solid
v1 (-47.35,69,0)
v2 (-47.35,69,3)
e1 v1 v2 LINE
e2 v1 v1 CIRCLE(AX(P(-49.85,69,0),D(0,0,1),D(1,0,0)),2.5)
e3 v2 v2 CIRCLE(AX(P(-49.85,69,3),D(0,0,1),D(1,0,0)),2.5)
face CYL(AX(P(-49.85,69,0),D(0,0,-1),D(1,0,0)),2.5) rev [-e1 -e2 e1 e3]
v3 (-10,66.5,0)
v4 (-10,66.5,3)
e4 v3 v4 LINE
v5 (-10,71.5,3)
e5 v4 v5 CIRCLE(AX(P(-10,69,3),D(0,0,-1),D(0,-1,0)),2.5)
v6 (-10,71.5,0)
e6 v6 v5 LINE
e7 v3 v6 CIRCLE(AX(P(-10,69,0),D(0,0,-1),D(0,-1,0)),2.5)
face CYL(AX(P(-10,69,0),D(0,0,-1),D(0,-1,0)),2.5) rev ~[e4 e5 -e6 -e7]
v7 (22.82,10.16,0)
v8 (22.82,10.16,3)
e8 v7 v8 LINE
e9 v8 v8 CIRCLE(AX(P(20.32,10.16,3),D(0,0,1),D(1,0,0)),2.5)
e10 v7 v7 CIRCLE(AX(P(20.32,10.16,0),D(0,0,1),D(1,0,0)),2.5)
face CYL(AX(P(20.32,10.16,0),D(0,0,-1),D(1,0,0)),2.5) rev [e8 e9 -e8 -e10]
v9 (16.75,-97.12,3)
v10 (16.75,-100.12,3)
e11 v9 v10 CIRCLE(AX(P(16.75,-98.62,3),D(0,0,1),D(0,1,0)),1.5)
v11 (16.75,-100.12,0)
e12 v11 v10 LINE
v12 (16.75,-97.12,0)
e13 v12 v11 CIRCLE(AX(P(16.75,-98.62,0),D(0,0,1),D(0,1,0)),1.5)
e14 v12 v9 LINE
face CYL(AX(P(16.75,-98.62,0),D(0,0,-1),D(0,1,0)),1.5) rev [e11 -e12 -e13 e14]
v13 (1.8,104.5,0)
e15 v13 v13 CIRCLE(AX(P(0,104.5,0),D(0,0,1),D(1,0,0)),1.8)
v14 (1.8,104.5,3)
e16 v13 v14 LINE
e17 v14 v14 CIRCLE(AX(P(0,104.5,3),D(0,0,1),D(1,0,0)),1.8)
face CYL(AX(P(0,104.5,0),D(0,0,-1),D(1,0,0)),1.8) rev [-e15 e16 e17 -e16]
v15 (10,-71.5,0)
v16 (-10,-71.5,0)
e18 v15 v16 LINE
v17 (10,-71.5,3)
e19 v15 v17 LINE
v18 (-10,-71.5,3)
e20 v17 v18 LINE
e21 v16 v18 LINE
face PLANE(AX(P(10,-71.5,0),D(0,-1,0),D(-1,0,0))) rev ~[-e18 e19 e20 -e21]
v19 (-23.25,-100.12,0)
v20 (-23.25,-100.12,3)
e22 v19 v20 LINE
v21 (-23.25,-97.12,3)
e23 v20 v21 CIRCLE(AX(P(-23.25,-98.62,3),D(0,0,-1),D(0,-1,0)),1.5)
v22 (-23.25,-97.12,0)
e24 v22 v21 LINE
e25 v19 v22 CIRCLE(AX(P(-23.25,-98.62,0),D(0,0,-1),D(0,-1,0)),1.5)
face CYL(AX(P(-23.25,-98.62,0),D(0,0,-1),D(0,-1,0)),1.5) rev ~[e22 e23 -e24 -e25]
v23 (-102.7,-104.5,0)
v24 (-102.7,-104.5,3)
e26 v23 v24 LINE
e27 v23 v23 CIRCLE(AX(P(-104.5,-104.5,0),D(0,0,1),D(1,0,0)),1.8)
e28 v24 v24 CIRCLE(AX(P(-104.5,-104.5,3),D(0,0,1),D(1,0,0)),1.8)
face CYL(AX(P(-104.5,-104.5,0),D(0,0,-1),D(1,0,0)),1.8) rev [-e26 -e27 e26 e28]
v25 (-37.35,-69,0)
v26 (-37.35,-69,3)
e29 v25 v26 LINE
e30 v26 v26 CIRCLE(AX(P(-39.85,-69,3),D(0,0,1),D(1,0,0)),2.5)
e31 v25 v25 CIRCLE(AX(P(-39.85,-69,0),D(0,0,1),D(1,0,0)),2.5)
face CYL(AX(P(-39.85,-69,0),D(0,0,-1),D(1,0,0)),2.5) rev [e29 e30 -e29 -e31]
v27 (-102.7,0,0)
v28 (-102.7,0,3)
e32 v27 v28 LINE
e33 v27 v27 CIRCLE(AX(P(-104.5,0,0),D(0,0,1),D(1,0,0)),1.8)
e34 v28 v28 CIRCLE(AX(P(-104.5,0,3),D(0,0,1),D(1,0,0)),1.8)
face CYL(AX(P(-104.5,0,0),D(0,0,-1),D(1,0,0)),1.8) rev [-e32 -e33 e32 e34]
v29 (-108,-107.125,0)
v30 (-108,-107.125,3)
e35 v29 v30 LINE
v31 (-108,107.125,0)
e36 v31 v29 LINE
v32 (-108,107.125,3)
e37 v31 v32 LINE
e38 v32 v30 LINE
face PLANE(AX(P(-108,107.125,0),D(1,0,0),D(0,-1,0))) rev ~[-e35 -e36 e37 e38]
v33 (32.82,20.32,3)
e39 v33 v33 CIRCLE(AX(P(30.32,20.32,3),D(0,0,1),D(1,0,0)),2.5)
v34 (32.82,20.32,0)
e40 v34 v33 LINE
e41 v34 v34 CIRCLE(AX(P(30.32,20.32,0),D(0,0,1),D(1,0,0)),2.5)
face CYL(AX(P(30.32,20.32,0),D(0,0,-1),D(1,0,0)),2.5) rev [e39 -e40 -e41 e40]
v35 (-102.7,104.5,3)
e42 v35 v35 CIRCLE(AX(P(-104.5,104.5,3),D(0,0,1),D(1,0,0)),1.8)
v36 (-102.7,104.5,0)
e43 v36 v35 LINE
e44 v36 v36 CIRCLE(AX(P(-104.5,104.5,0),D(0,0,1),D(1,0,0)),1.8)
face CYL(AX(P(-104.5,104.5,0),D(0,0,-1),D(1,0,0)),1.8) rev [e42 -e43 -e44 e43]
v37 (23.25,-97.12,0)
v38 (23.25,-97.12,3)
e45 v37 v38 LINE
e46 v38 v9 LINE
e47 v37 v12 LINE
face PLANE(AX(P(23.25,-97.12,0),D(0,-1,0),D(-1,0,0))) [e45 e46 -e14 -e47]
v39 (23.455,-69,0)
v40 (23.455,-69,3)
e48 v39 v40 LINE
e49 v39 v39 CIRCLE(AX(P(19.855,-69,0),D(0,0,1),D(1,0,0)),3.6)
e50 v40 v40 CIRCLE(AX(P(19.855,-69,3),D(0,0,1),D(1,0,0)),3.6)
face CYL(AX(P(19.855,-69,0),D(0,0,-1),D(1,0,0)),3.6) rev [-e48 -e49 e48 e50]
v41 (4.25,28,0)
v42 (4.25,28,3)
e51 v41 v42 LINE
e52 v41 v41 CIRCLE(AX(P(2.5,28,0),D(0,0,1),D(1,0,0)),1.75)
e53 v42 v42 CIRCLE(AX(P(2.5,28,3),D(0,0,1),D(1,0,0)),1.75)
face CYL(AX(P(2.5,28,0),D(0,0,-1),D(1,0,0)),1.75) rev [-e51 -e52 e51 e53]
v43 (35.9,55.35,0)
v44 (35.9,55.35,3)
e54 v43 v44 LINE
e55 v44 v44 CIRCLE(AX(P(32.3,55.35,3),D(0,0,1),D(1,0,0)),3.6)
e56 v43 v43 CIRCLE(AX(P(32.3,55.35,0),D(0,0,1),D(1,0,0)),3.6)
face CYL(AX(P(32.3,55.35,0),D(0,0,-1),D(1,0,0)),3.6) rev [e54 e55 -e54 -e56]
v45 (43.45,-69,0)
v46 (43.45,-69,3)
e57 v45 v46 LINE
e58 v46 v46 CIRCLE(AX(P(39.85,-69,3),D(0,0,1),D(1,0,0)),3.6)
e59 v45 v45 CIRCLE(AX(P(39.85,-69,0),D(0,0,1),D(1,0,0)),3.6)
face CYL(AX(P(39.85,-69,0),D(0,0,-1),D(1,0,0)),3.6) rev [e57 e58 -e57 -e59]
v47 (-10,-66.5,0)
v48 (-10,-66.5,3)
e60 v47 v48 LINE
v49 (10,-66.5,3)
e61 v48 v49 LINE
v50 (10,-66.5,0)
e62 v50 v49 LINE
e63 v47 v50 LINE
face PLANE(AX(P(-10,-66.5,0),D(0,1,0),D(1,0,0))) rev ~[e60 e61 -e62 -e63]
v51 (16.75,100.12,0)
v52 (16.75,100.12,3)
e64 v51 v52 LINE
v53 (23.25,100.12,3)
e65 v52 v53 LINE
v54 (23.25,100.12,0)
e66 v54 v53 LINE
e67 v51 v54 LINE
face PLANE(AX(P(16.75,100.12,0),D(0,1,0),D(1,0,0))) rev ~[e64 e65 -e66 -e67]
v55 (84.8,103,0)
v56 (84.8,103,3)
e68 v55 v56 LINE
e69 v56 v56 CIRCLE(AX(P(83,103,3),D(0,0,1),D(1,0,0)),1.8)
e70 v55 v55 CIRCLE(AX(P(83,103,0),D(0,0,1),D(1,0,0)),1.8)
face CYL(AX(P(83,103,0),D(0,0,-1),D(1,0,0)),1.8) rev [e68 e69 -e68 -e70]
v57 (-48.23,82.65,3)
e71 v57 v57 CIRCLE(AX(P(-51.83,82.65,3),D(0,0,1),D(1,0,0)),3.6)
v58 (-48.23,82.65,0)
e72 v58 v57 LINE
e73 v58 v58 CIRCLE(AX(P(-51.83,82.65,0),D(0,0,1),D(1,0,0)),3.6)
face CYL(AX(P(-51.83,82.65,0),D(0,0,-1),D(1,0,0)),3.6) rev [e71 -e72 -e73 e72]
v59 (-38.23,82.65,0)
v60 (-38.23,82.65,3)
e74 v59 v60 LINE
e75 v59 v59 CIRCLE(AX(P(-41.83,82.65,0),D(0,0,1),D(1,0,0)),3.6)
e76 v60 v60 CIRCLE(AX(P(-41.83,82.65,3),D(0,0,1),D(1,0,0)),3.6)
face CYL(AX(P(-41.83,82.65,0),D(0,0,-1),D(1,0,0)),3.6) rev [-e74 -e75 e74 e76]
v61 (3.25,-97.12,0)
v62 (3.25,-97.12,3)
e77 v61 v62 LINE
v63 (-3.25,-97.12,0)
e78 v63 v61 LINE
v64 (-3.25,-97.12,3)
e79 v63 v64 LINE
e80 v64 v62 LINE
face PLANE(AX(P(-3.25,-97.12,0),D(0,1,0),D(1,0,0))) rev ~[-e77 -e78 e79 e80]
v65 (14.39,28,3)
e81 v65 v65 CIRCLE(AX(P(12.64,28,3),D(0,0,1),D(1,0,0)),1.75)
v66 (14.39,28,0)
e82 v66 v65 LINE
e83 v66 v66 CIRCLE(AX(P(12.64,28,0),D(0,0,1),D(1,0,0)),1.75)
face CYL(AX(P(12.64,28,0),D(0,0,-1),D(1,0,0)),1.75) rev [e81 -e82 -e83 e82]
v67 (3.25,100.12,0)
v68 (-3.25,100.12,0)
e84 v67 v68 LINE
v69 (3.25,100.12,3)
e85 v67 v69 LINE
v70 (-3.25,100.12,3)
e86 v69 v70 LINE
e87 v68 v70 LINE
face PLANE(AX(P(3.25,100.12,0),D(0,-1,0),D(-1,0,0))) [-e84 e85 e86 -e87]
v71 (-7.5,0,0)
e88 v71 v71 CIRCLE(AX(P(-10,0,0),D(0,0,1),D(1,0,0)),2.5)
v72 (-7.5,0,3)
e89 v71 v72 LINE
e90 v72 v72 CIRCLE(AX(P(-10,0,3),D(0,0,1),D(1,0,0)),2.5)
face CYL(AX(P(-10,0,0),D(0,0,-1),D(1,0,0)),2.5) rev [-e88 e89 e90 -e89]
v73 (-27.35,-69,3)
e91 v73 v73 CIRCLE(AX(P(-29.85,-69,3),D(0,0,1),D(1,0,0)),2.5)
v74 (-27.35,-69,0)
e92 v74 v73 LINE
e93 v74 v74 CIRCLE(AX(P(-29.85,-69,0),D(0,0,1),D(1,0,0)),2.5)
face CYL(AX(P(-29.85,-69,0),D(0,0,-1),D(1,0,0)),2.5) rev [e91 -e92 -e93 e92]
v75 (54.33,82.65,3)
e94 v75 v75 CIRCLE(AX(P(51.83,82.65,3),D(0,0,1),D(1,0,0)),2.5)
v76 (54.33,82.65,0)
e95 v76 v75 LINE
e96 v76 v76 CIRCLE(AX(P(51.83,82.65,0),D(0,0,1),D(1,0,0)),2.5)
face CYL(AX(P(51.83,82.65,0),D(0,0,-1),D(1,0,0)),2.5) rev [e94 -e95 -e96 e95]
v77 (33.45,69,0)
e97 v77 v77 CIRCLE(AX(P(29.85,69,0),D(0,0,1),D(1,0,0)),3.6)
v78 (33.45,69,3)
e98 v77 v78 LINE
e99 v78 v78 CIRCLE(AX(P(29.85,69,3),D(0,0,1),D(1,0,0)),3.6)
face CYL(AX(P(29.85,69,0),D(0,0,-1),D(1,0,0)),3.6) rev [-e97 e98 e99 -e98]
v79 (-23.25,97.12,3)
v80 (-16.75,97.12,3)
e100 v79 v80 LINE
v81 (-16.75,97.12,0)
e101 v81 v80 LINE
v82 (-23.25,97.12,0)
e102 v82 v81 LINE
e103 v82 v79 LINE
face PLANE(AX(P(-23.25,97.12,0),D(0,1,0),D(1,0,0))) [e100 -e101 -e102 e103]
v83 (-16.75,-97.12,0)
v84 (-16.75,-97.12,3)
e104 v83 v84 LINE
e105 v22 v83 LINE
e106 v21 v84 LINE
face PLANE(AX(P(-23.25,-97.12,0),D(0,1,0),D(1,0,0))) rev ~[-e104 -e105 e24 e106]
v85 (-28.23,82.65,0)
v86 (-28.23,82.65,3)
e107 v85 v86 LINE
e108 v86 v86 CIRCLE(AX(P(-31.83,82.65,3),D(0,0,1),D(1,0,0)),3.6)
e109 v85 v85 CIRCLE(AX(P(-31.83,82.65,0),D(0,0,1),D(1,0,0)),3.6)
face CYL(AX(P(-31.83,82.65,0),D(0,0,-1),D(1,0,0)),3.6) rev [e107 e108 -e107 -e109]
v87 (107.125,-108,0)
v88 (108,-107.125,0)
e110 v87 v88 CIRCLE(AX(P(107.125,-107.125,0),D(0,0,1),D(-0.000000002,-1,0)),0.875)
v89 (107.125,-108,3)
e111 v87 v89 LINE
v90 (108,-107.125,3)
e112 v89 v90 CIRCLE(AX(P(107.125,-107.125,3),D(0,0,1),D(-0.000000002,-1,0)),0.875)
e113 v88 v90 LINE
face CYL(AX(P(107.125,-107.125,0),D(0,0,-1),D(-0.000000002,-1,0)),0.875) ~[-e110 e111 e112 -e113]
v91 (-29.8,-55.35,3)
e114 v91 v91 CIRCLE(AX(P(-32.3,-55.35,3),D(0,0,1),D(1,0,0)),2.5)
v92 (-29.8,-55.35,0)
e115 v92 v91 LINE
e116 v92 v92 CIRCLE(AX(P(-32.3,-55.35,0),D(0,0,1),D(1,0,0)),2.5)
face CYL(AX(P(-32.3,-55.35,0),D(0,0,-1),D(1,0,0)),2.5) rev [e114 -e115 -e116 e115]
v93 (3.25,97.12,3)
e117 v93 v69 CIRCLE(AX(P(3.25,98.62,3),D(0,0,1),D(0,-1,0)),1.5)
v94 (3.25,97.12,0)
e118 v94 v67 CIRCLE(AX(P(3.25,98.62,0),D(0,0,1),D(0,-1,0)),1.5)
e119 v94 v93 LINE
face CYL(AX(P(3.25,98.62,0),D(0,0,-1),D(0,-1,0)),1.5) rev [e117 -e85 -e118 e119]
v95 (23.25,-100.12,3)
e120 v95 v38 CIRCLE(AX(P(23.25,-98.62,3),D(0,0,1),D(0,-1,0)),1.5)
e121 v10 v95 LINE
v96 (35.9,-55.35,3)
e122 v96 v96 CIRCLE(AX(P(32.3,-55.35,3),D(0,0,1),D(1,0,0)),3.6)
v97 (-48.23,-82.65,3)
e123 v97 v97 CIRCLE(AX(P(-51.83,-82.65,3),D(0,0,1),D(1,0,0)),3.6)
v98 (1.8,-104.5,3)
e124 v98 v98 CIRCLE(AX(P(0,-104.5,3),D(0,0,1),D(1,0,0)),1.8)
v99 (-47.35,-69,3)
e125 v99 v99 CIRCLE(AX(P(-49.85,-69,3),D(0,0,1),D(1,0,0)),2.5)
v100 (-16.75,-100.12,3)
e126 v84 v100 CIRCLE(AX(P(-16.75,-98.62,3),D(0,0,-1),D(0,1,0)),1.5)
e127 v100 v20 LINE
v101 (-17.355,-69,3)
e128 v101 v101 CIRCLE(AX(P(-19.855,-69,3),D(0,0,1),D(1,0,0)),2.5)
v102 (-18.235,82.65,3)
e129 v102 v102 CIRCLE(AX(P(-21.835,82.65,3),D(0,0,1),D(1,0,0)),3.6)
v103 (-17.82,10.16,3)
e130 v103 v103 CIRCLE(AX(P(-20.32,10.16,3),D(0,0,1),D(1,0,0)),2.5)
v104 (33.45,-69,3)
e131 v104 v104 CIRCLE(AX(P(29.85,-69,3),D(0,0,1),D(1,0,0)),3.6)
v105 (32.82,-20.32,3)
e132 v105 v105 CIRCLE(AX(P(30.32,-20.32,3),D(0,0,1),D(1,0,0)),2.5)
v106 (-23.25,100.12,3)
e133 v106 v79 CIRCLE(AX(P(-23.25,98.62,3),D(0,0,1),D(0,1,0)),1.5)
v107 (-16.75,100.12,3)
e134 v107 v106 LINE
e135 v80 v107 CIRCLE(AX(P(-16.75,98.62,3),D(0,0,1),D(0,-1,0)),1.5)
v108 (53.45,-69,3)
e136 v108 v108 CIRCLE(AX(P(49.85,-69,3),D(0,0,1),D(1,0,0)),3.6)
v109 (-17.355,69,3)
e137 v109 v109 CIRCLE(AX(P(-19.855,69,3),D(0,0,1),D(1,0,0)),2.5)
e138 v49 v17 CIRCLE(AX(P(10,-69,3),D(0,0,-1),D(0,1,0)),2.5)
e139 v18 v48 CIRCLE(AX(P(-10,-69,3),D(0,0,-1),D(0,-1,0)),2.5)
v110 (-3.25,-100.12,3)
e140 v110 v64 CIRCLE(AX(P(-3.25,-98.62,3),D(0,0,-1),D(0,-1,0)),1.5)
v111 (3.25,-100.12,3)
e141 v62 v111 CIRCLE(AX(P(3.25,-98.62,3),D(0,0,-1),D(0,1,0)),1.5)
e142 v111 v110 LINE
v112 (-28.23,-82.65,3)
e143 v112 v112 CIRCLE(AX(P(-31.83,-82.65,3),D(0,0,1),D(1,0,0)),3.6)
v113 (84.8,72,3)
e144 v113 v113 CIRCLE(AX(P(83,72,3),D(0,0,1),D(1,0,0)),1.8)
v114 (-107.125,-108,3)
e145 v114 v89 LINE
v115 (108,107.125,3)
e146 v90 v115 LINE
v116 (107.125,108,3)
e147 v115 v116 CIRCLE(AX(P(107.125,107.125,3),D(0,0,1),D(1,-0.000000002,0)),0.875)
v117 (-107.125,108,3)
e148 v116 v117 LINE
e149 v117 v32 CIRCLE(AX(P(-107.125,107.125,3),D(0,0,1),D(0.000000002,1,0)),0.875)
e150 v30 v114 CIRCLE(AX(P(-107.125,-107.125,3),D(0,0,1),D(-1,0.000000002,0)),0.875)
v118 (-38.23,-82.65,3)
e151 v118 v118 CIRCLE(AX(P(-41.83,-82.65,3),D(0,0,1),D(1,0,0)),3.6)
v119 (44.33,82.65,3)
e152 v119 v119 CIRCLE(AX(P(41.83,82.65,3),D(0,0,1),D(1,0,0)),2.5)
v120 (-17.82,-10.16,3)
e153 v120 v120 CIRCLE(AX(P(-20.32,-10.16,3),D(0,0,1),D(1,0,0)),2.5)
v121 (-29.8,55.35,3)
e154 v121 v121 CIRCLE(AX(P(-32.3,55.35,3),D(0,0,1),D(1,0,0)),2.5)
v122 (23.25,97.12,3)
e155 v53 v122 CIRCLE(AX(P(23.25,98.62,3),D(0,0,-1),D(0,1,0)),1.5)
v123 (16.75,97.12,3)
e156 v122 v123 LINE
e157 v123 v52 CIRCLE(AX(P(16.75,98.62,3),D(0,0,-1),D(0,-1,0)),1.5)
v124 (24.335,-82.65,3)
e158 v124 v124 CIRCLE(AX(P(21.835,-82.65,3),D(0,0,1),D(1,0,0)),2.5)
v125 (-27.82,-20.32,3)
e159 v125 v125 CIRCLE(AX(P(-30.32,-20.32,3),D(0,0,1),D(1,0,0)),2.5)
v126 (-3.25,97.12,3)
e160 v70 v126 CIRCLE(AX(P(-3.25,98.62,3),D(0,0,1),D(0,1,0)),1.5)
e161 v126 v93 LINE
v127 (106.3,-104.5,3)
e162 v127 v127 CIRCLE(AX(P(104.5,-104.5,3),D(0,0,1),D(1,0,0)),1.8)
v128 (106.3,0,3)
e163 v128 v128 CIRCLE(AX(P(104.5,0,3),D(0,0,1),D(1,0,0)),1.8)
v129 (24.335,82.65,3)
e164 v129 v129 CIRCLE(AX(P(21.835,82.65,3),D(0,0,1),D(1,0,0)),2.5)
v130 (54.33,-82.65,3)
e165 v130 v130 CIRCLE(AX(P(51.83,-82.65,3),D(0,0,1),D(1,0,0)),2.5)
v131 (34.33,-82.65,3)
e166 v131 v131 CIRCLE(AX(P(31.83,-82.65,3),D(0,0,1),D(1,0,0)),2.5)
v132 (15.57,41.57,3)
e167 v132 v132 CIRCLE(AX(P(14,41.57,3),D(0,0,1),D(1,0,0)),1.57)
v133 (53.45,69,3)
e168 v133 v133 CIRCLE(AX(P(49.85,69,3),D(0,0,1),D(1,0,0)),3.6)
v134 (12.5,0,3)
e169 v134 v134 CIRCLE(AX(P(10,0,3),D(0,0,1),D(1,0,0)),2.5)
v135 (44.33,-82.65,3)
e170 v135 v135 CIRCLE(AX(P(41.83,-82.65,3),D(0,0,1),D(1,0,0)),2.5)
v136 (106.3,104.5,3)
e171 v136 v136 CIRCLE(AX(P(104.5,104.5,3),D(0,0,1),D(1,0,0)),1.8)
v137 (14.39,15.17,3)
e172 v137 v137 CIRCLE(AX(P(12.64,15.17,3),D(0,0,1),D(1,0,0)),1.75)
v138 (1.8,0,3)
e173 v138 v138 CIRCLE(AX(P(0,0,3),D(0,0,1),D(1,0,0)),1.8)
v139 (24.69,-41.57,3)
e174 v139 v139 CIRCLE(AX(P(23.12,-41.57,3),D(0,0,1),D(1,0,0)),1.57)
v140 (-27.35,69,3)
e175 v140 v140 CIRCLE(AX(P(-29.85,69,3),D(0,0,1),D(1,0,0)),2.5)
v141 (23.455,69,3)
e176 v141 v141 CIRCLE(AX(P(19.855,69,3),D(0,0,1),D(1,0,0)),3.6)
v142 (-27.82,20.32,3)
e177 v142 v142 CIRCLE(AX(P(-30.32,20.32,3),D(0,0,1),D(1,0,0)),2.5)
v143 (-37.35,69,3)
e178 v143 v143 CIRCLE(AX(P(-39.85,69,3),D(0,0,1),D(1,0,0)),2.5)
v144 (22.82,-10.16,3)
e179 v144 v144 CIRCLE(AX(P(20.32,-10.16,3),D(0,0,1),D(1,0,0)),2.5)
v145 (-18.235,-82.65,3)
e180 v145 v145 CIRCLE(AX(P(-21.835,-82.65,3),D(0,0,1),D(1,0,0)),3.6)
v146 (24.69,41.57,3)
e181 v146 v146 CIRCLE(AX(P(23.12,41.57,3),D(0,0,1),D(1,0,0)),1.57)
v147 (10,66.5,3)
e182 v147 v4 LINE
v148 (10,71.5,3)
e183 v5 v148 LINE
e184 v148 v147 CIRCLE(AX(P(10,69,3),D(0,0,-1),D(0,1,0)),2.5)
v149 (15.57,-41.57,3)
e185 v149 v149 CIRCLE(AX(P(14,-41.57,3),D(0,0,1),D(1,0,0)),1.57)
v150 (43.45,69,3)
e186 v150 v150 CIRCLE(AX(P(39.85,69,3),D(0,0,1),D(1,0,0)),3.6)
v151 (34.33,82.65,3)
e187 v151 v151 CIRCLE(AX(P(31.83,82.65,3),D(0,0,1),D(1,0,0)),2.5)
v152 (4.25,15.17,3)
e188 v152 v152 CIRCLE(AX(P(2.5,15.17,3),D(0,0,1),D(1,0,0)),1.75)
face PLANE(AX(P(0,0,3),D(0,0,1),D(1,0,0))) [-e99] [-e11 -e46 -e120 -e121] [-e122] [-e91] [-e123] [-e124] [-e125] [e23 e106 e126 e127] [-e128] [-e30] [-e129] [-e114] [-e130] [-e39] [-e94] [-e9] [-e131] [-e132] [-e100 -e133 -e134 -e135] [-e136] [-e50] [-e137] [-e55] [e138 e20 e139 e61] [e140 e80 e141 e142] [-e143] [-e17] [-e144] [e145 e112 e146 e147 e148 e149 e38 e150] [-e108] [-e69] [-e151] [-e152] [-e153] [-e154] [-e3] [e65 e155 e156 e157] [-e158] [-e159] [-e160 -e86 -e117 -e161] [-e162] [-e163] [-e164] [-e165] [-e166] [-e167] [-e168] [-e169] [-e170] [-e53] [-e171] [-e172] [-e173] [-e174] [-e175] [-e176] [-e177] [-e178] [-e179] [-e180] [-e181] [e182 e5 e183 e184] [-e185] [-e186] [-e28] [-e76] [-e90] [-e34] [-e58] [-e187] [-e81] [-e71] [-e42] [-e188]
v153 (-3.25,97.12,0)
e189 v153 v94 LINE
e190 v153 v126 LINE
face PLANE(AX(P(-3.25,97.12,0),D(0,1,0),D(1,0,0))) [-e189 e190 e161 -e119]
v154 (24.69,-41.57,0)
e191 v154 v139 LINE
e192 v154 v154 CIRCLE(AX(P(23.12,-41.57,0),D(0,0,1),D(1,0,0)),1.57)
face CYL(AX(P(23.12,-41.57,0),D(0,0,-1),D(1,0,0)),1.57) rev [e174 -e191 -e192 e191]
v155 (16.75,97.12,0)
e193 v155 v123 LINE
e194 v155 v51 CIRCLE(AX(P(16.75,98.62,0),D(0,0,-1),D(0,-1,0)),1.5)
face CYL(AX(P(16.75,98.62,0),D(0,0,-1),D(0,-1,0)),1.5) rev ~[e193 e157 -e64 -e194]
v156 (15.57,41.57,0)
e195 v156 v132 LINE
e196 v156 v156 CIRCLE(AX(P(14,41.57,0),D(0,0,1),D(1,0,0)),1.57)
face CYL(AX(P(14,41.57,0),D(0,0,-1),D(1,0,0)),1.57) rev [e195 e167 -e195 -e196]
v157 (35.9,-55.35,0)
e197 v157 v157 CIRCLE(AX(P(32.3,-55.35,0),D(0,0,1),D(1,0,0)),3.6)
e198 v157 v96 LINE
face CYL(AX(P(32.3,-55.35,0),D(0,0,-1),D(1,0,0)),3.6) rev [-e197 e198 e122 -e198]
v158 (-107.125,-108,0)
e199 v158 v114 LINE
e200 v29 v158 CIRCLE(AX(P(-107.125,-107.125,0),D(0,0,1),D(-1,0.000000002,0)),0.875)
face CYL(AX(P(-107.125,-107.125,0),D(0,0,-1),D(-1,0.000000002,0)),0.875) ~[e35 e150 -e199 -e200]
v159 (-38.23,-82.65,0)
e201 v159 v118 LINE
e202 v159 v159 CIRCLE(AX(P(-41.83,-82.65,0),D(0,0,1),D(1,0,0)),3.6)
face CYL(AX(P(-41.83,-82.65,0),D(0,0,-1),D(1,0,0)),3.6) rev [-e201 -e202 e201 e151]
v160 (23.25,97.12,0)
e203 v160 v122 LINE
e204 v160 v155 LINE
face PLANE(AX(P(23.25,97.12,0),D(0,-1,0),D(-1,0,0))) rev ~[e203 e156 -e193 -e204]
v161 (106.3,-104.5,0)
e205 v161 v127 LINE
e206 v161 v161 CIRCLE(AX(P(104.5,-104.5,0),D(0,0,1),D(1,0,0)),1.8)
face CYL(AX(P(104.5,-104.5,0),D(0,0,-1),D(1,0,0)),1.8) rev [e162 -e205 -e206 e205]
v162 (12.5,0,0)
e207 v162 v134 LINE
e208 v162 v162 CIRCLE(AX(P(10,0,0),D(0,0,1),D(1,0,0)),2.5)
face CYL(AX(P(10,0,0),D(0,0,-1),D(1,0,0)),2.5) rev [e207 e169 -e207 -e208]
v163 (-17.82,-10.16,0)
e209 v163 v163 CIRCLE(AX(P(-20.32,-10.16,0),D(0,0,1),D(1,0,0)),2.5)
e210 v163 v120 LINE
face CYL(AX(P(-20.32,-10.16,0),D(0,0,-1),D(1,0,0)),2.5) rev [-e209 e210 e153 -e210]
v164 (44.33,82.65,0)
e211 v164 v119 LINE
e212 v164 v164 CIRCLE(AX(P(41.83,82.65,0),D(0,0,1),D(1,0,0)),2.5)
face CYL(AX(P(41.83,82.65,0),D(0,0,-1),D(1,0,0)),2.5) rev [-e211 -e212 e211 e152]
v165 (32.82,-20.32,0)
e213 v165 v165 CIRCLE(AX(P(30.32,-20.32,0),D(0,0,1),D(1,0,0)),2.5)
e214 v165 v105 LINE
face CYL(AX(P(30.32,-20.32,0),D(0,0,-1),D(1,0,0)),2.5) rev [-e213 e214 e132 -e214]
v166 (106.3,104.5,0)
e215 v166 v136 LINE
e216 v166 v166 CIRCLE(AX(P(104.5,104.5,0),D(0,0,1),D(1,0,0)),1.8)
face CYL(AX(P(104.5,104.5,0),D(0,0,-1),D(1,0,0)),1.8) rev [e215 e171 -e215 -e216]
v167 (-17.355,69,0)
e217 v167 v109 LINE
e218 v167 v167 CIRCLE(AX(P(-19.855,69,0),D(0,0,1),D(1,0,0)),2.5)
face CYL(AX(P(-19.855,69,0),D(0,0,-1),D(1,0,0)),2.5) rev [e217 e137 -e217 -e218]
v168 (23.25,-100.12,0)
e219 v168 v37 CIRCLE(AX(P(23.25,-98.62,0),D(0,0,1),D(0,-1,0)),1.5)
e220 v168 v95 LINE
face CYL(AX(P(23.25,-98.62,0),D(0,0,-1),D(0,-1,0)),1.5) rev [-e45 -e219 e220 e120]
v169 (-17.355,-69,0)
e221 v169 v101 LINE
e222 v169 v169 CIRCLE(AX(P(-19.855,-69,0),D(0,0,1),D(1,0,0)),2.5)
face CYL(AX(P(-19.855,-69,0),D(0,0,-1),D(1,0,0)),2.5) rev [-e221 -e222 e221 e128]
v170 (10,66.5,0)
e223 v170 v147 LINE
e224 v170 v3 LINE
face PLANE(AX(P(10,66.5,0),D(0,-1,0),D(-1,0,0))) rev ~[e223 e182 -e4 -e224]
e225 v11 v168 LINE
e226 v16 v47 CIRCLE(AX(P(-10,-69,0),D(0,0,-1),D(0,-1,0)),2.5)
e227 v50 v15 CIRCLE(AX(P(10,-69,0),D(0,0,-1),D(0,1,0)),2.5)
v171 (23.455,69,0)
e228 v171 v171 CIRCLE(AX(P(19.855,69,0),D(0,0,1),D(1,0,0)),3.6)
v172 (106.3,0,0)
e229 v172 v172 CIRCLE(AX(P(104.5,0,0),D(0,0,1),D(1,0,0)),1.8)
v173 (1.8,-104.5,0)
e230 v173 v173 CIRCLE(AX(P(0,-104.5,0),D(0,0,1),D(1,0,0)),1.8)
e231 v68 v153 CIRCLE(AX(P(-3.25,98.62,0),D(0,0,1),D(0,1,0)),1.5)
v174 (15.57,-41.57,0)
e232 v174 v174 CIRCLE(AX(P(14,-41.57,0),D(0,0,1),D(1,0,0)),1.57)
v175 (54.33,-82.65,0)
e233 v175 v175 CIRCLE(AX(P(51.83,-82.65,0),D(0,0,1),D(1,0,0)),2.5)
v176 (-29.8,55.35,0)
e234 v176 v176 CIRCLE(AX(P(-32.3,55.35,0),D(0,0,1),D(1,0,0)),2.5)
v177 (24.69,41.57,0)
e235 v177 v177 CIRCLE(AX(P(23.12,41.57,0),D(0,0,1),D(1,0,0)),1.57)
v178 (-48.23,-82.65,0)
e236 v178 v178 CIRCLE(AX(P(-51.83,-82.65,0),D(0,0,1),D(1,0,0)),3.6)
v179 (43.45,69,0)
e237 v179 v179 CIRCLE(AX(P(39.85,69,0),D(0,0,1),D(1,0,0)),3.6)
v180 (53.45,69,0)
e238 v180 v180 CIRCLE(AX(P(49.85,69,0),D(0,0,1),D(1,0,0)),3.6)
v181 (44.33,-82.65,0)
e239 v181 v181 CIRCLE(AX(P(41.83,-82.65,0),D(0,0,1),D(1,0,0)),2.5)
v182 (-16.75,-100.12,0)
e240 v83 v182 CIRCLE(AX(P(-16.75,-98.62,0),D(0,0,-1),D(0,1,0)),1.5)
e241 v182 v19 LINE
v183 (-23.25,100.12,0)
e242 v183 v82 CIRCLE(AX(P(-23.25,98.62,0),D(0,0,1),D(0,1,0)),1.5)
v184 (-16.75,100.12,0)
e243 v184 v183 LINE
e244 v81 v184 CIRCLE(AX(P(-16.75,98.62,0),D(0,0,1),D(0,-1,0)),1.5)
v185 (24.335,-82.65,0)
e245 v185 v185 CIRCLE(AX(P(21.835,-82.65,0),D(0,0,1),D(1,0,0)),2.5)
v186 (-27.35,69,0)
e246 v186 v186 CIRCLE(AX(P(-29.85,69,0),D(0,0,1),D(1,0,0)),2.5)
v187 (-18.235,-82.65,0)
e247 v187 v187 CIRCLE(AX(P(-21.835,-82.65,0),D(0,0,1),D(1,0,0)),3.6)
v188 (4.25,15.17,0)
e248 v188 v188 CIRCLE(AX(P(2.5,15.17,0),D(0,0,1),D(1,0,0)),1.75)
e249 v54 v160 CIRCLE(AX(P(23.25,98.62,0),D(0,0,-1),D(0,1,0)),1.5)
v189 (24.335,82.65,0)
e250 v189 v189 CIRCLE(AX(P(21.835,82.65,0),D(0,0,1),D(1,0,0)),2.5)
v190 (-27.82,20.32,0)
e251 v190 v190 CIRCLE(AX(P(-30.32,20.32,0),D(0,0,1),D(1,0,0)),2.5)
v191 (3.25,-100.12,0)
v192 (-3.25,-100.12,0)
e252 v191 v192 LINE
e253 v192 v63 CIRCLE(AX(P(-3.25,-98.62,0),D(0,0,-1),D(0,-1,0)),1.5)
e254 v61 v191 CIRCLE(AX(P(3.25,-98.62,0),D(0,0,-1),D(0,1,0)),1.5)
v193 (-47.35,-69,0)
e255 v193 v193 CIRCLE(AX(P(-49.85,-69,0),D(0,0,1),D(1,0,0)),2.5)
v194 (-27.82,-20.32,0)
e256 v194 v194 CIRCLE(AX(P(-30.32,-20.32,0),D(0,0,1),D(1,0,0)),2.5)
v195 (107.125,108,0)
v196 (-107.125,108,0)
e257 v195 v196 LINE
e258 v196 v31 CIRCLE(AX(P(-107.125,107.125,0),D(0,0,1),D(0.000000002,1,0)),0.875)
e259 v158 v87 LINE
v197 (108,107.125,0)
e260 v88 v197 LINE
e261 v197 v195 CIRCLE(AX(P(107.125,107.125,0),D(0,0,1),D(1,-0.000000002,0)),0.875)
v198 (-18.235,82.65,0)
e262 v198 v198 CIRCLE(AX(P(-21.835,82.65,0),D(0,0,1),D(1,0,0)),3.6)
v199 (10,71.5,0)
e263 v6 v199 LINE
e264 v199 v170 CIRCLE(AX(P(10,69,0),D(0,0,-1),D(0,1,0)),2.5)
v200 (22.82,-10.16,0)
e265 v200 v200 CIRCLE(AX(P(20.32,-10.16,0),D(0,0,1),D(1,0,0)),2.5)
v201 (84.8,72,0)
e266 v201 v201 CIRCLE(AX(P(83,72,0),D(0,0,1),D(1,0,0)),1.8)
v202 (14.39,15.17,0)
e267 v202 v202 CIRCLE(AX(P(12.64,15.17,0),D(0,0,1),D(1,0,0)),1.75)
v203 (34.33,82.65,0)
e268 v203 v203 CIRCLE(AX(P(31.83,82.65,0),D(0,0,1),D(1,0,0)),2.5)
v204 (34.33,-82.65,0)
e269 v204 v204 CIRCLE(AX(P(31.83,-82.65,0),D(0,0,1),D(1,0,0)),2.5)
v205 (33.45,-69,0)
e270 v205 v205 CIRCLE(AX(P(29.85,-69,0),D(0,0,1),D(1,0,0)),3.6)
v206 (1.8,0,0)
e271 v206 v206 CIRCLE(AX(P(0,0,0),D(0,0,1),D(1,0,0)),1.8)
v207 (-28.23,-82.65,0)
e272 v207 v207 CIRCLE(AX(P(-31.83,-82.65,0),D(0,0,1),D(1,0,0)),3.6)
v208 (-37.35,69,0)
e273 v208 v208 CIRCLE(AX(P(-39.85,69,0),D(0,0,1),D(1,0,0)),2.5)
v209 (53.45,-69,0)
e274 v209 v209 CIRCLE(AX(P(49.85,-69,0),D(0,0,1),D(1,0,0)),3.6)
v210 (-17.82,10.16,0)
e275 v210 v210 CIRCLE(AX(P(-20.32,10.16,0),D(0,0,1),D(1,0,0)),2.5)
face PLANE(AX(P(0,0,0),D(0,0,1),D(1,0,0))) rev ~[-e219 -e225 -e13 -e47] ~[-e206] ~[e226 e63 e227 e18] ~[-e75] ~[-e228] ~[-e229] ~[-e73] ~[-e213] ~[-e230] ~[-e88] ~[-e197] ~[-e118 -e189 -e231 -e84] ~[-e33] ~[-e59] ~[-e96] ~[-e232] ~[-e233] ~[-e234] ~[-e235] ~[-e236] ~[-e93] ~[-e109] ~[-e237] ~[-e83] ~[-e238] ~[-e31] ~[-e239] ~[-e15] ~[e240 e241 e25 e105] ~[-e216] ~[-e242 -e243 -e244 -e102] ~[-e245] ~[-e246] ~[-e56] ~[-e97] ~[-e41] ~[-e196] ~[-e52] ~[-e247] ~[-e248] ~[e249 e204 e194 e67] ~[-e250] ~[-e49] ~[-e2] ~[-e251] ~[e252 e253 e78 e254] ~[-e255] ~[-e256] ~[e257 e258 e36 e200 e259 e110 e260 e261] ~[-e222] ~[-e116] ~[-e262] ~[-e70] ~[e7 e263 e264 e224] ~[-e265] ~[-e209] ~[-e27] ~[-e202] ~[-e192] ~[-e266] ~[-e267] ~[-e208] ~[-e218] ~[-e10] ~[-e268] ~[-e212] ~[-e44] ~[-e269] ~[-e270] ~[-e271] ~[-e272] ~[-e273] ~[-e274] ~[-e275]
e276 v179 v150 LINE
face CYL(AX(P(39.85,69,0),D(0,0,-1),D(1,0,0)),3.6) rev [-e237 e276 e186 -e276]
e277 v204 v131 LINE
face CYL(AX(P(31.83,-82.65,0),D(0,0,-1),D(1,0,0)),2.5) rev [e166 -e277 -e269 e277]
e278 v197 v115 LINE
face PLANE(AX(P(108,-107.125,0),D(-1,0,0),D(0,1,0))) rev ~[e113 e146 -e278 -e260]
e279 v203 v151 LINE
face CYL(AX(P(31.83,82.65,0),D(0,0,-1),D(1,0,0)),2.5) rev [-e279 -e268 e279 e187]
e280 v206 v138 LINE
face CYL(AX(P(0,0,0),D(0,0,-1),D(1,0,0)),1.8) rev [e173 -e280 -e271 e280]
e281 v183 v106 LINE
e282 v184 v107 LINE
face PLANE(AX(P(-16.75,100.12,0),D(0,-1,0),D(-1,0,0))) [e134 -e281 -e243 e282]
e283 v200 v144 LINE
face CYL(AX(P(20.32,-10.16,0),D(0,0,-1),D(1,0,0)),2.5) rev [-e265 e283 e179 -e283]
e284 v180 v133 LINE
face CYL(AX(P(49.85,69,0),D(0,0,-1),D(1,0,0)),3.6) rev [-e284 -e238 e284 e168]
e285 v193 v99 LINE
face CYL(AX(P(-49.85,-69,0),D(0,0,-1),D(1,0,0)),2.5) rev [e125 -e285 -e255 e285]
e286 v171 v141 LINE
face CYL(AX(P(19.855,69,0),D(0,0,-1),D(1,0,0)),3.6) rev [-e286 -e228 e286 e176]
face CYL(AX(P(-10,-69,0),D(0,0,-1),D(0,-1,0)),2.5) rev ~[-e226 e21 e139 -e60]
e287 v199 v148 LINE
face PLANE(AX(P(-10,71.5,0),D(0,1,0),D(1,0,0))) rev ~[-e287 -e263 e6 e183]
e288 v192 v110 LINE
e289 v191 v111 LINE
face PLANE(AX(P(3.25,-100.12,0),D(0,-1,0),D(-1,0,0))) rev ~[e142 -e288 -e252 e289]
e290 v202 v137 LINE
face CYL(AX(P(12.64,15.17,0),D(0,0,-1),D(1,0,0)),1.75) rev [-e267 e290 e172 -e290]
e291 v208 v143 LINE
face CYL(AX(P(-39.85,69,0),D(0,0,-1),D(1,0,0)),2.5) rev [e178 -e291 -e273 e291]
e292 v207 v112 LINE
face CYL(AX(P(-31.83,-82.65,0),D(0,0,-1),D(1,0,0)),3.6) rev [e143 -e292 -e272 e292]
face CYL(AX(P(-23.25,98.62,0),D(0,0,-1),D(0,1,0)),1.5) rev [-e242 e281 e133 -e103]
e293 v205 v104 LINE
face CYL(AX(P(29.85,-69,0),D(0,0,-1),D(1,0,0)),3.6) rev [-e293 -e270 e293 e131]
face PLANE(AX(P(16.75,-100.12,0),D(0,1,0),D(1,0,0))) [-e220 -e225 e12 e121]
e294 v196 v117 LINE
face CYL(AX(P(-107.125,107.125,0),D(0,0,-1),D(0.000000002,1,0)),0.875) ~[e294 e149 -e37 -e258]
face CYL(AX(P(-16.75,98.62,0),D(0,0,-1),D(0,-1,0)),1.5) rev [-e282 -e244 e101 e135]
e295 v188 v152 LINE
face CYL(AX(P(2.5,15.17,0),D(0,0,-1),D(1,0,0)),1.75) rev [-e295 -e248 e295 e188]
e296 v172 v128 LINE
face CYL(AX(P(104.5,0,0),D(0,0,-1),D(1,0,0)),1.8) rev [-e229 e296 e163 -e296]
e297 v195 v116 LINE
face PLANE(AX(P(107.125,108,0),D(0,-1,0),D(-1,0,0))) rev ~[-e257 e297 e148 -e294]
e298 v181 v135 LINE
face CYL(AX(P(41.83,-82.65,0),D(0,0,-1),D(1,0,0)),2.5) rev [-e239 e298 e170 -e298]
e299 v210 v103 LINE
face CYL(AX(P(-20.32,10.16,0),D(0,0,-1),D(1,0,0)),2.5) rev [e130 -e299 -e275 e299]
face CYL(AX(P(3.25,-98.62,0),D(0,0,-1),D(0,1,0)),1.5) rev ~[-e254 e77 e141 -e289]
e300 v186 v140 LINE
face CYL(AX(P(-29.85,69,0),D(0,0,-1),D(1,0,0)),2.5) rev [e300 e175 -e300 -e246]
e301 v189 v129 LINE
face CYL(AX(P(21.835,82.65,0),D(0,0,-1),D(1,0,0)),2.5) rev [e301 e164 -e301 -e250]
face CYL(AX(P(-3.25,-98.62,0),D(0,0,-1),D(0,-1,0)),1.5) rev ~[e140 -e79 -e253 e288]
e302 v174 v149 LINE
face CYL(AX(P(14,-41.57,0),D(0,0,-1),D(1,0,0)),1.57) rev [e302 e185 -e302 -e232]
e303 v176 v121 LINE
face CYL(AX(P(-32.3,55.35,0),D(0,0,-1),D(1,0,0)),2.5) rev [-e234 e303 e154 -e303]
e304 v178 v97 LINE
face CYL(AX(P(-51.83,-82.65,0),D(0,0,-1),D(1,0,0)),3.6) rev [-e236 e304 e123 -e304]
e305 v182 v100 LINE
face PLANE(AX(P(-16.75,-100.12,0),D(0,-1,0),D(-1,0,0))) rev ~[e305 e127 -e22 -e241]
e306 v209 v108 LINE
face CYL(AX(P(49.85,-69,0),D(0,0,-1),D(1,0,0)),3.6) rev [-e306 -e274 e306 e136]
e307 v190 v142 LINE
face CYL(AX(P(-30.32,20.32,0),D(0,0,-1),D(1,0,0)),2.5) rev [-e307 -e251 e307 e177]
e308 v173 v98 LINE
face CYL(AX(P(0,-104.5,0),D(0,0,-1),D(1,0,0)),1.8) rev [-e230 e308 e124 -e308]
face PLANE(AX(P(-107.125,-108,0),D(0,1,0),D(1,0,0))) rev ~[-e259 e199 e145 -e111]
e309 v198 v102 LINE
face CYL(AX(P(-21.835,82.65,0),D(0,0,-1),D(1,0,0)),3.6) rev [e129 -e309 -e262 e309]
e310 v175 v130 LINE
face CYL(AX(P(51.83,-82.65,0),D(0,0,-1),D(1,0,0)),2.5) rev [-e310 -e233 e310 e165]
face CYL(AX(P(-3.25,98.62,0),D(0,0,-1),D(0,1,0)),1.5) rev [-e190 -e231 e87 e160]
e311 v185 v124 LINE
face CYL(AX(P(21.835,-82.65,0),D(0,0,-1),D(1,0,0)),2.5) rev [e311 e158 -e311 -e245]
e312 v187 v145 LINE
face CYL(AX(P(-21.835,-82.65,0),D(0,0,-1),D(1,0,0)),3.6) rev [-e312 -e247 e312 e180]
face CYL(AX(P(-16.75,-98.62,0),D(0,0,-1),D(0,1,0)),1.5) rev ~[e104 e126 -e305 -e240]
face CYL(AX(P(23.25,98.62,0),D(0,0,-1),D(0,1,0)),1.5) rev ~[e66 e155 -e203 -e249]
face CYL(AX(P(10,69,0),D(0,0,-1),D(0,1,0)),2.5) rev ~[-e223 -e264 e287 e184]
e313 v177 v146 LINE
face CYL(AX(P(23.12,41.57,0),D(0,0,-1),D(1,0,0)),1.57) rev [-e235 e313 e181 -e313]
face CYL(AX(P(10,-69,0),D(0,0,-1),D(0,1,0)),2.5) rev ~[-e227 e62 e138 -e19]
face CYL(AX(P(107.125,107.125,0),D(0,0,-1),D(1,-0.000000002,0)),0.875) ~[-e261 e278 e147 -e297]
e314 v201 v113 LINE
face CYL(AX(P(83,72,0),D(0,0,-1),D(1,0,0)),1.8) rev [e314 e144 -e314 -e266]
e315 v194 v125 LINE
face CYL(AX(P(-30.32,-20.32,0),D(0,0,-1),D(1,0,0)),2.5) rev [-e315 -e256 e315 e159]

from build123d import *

# Parameters (mm, degrees)
SKETCH1_R           = 1.8
SKETCH1_R_2         = 2.5
SKETCH1_R_3         = 3.6
SKETCH1_R_4         = 1.57
SKETCH1_R_5         = 1.75
BOSS_EXTRUDE1_DEPTH = 3


with BuildPart() as part:
    # Sketch1 → Boss-Extrude1 (new body)
    with BuildSketch(Plane.XY):
        with BuildLine():
            Line((-107.125, -108), (107.125, -108))
            ThreePointArc((107.125, -108), (107.743718434, -107.743718434), (108, -107.125))
            Line((108, -107.125), (108, 107.125))
            ThreePointArc((108, 107.125), (107.743718434, 107.743718434), (107.125, 108))
            Line((107.125, 108), (-107.125, 108))
            ThreePointArc((-107.125, 108), (-107.743718434, 107.743718434), (-108, 107.125))
            Line((-108, 107.125), (-108, -107.125))
            ThreePointArc((-108, -107.125), (-107.743718434, -107.743718434), (-107.125, -108))
        make_face()
        with Locations((-104.5, -104.5)):
            Circle(SKETCH1_R, mode=Mode.SUBTRACT)
        with Locations((104.5, -104.5)):
            Circle(SKETCH1_R, mode=Mode.SUBTRACT)
        with Locations((-104.5, 104.5)):
            Circle(SKETCH1_R, mode=Mode.SUBTRACT)
        with Locations((104.5, 104.5)):
            Circle(SKETCH1_R, mode=Mode.SUBTRACT)
        with Locations((-49.85, -69)):
            Circle(SKETCH1_R_2, mode=Mode.SUBTRACT)
        with Locations((-39.85, -69)):
            Circle(SKETCH1_R_2, mode=Mode.SUBTRACT)
        with Locations((-29.85, -69)):
            Circle(SKETCH1_R_2, mode=Mode.SUBTRACT)
        with Locations((-19.855, -69)):
            Circle(SKETCH1_R_2, mode=Mode.SUBTRACT)
        with Locations((49.85, -69)):
            Circle(SKETCH1_R_3, mode=Mode.SUBTRACT)
        with Locations((39.85, -69)):
            Circle(SKETCH1_R_3, mode=Mode.SUBTRACT)
        with Locations((29.85, -69)):
            Circle(SKETCH1_R_3, mode=Mode.SUBTRACT)
        with Locations((19.855, -69)):
            Circle(SKETCH1_R_3, mode=Mode.SUBTRACT)
        with Locations((0, -104.5)):
            Circle(SKETCH1_R, mode=Mode.SUBTRACT)
        with Locations((0, 104.5)):
            Circle(SKETCH1_R, mode=Mode.SUBTRACT)
        with Locations((49.85, 69)):
            Circle(SKETCH1_R_3, mode=Mode.SUBTRACT)
        with Locations((39.85, 69)):
            Circle(SKETCH1_R_3, mode=Mode.SUBTRACT)
        with Locations((29.85, 69)):
            Circle(SKETCH1_R_3, mode=Mode.SUBTRACT)
        with Locations((19.855, 69)):
            Circle(SKETCH1_R_3, mode=Mode.SUBTRACT)
        with Locations((-19.855, 69)):
            Circle(SKETCH1_R_2, mode=Mode.SUBTRACT)
        with Locations((-29.85, 69)):
            Circle(SKETCH1_R_2, mode=Mode.SUBTRACT)
        with Locations((-39.85, 69)):
            Circle(SKETCH1_R_2, mode=Mode.SUBTRACT)
        with Locations((-49.85, 69)):
            Circle(SKETCH1_R_2, mode=Mode.SUBTRACT)
        with Locations((-104.5, 0)):
            Circle(SKETCH1_R, mode=Mode.SUBTRACT)
        with Locations((104.5, 0)):
            Circle(SKETCH1_R, mode=Mode.SUBTRACT)
        with Locations((-51.83, -82.65)):
            Circle(SKETCH1_R_3, mode=Mode.SUBTRACT)
        with Locations((-41.83, -82.65)):
            Circle(SKETCH1_R_3, mode=Mode.SUBTRACT)
        with Locations((-31.83, -82.65)):
            Circle(SKETCH1_R_3, mode=Mode.SUBTRACT)
        with Locations((-21.835, -82.65)):
            Circle(SKETCH1_R_3, mode=Mode.SUBTRACT)
        with Locations((51.83, -82.65)):
            Circle(SKETCH1_R_2, mode=Mode.SUBTRACT)
        with Locations((41.83, -82.65)):
            Circle(SKETCH1_R_2, mode=Mode.SUBTRACT)
        with Locations((31.83, -82.65)):
            Circle(SKETCH1_R_2, mode=Mode.SUBTRACT)
        with Locations((21.835, -82.65)):
            Circle(SKETCH1_R_2, mode=Mode.SUBTRACT)
        with Locations((-51.83, 82.65)):
            Circle(SKETCH1_R_3, mode=Mode.SUBTRACT)
        with Locations((-41.83, 82.65)):
            Circle(SKETCH1_R_3, mode=Mode.SUBTRACT)
        with Locations((-31.83, 82.65)):
            Circle(SKETCH1_R_3, mode=Mode.SUBTRACT)
        with Locations((-21.835, 82.65)):
            Circle(SKETCH1_R_3, mode=Mode.SUBTRACT)
        with Locations((51.83, 82.65)):
            Circle(SKETCH1_R_2, mode=Mode.SUBTRACT)
        with Locations((41.83, 82.65)):
            Circle(SKETCH1_R_2, mode=Mode.SUBTRACT)
        with Locations((31.83, 82.65)):
            Circle(SKETCH1_R_2, mode=Mode.SUBTRACT)
        with Locations((21.835, 82.65)):
            Circle(SKETCH1_R_2, mode=Mode.SUBTRACT)
        with Locations((83, 103)):
            Circle(SKETCH1_R, mode=Mode.SUBTRACT)
        with Locations((83, 72)):
            Circle(SKETCH1_R, mode=Mode.SUBTRACT)
        with Locations((-32.3, -55.35)):
            Circle(SKETCH1_R_2, mode=Mode.SUBTRACT)
        with Locations((32.3, -55.35)):
            Circle(SKETCH1_R_3, mode=Mode.SUBTRACT)
        with Locations((32.3, 55.35)):
            Circle(SKETCH1_R_3, mode=Mode.SUBTRACT)
        with Locations((-32.3, 55.35)):
            Circle(SKETCH1_R_2, mode=Mode.SUBTRACT)
        with Locations((14, -41.57)):
            Circle(SKETCH1_R_4, mode=Mode.SUBTRACT)
        with Locations((23.12, -41.57)):
            Circle(SKETCH1_R_4, mode=Mode.SUBTRACT)
        with Locations((23.12, 41.57)):
            Circle(SKETCH1_R_4, mode=Mode.SUBTRACT)
        with Locations((14, 41.57)):
            Circle(SKETCH1_R_4, mode=Mode.SUBTRACT)
        Circle(SKETCH1_R, mode=Mode.SUBTRACT)
        with Locations((-10, 0)):
            Circle(SKETCH1_R_2, mode=Mode.SUBTRACT)
        with Locations((10, 0)):
            Circle(SKETCH1_R_2, mode=Mode.SUBTRACT)
        with Locations((-20.32, 10.16)):
            Circle(SKETCH1_R_2, mode=Mode.SUBTRACT)
        with Locations((-30.32, 20.32)):
            Circle(SKETCH1_R_2, mode=Mode.SUBTRACT)
        with Locations((30.32, 20.32)):
            Circle(SKETCH1_R_2, mode=Mode.SUBTRACT)
        with Locations((20.32, 10.16)):
            Circle(SKETCH1_R_2, mode=Mode.SUBTRACT)
        with Locations((30.32, -20.32)):
            Circle(SKETCH1_R_2, mode=Mode.SUBTRACT)
        with Locations((20.32, -10.16)):
            Circle(SKETCH1_R_2, mode=Mode.SUBTRACT)
        with Locations((-20.32, -10.16)):
            Circle(SKETCH1_R_2, mode=Mode.SUBTRACT)
        with Locations((-30.32, -20.32)):
            Circle(SKETCH1_R_2, mode=Mode.SUBTRACT)
        with Locations((2.5, 28)):
            Circle(SKETCH1_R_5, mode=Mode.SUBTRACT)
        with Locations((12.64, 28)):
            Circle(SKETCH1_R_5, mode=Mode.SUBTRACT)
        with Locations((2.5, 15.17)):
            Circle(SKETCH1_R_5, mode=Mode.SUBTRACT)
        with Locations((12.64, 15.17)):
            Circle(SKETCH1_R_5, mode=Mode.SUBTRACT)
        with BuildLine():
            Line((-3.25, -97.12), (3.25, -97.12))
            ThreePointArc((3.25, -97.12), (4.75, -98.62), (3.25, -100.12))
            Line((3.25, -100.12), (-3.25, -100.12))
            ThreePointArc((-3.25, -100.12), (-4.75, -98.62), (-3.25, -97.12))
        make_face(mode=Mode.SUBTRACT)
        with BuildLine():
            Line((-23.25, -97.12), (-16.75, -97.12))
            ThreePointArc((-16.75, -97.12), (-15.25, -98.62), (-16.75, -100.12))
            Line((-16.75, -100.12), (-23.25, -100.12))
            ThreePointArc((-23.25, -100.12), (-24.75, -98.62), (-23.25, -97.12))
        make_face(mode=Mode.SUBTRACT)
        with BuildLine():
            Line((23.25, -97.12), (16.75, -97.12))
            ThreePointArc((16.75, -97.12), (15.25, -98.62), (16.75, -100.12))
            Line((16.75, -100.12), (23.25, -100.12))
            ThreePointArc((23.25, -100.12), (24.75, -98.62), (23.25, -97.12))
        make_face(mode=Mode.SUBTRACT)
        with BuildLine():
            Line((-3.25, 97.12), (3.25, 97.12))
            ThreePointArc((3.25, 97.12), (4.75, 98.62), (3.25, 100.12))
            Line((3.25, 100.12), (-3.25, 100.12))
            ThreePointArc((-3.25, 100.12), (-4.75, 98.62), (-3.25, 97.12))
        make_face(mode=Mode.SUBTRACT)
        with BuildLine():
            Line((23.25, 97.12), (16.75, 97.12))
            ThreePointArc((16.75, 97.12), (15.25, 98.62), (16.75, 100.12))
            Line((16.75, 100.12), (23.25, 100.12))
            ThreePointArc((23.25, 100.12), (24.75, 98.62), (23.25, 97.12))
        make_face(mode=Mode.SUBTRACT)
        with BuildLine():
            Line((-23.25, 97.12), (-16.75, 97.12))
            ThreePointArc((-16.75, 97.12), (-15.25, 98.62), (-16.75, 100.12))
            Line((-16.75, 100.12), (-23.25, 100.12))
            ThreePointArc((-23.25, 100.12), (-24.75, 98.62), (-23.25, 97.12))
        make_face(mode=Mode.SUBTRACT)
        with BuildLine():
            Line((-10, -66.5), (10, -66.5))
            ThreePointArc((10, -66.5), (12.5, -69), (10, -71.5))
            Line((10, -71.5), (-10, -71.5))
            ThreePointArc((-10, -71.5), (-12.5, -69), (-10, -66.5))
        make_face(mode=Mode.SUBTRACT)
        with BuildLine():
            Line((-10, 71.5), (10, 71.5))
            ThreePointArc((10, 71.5), (12.5, 69), (10, 66.5))
            Line((10, 66.5), (-10, 66.5))
            ThreePointArc((-10, 66.5), (-12.5, 69), (-10, 71.5))
        make_face(mode=Mode.SUBTRACT)
    extrude(amount=BOSS_EXTRUDE1_DEPTH)


solid = part.part
